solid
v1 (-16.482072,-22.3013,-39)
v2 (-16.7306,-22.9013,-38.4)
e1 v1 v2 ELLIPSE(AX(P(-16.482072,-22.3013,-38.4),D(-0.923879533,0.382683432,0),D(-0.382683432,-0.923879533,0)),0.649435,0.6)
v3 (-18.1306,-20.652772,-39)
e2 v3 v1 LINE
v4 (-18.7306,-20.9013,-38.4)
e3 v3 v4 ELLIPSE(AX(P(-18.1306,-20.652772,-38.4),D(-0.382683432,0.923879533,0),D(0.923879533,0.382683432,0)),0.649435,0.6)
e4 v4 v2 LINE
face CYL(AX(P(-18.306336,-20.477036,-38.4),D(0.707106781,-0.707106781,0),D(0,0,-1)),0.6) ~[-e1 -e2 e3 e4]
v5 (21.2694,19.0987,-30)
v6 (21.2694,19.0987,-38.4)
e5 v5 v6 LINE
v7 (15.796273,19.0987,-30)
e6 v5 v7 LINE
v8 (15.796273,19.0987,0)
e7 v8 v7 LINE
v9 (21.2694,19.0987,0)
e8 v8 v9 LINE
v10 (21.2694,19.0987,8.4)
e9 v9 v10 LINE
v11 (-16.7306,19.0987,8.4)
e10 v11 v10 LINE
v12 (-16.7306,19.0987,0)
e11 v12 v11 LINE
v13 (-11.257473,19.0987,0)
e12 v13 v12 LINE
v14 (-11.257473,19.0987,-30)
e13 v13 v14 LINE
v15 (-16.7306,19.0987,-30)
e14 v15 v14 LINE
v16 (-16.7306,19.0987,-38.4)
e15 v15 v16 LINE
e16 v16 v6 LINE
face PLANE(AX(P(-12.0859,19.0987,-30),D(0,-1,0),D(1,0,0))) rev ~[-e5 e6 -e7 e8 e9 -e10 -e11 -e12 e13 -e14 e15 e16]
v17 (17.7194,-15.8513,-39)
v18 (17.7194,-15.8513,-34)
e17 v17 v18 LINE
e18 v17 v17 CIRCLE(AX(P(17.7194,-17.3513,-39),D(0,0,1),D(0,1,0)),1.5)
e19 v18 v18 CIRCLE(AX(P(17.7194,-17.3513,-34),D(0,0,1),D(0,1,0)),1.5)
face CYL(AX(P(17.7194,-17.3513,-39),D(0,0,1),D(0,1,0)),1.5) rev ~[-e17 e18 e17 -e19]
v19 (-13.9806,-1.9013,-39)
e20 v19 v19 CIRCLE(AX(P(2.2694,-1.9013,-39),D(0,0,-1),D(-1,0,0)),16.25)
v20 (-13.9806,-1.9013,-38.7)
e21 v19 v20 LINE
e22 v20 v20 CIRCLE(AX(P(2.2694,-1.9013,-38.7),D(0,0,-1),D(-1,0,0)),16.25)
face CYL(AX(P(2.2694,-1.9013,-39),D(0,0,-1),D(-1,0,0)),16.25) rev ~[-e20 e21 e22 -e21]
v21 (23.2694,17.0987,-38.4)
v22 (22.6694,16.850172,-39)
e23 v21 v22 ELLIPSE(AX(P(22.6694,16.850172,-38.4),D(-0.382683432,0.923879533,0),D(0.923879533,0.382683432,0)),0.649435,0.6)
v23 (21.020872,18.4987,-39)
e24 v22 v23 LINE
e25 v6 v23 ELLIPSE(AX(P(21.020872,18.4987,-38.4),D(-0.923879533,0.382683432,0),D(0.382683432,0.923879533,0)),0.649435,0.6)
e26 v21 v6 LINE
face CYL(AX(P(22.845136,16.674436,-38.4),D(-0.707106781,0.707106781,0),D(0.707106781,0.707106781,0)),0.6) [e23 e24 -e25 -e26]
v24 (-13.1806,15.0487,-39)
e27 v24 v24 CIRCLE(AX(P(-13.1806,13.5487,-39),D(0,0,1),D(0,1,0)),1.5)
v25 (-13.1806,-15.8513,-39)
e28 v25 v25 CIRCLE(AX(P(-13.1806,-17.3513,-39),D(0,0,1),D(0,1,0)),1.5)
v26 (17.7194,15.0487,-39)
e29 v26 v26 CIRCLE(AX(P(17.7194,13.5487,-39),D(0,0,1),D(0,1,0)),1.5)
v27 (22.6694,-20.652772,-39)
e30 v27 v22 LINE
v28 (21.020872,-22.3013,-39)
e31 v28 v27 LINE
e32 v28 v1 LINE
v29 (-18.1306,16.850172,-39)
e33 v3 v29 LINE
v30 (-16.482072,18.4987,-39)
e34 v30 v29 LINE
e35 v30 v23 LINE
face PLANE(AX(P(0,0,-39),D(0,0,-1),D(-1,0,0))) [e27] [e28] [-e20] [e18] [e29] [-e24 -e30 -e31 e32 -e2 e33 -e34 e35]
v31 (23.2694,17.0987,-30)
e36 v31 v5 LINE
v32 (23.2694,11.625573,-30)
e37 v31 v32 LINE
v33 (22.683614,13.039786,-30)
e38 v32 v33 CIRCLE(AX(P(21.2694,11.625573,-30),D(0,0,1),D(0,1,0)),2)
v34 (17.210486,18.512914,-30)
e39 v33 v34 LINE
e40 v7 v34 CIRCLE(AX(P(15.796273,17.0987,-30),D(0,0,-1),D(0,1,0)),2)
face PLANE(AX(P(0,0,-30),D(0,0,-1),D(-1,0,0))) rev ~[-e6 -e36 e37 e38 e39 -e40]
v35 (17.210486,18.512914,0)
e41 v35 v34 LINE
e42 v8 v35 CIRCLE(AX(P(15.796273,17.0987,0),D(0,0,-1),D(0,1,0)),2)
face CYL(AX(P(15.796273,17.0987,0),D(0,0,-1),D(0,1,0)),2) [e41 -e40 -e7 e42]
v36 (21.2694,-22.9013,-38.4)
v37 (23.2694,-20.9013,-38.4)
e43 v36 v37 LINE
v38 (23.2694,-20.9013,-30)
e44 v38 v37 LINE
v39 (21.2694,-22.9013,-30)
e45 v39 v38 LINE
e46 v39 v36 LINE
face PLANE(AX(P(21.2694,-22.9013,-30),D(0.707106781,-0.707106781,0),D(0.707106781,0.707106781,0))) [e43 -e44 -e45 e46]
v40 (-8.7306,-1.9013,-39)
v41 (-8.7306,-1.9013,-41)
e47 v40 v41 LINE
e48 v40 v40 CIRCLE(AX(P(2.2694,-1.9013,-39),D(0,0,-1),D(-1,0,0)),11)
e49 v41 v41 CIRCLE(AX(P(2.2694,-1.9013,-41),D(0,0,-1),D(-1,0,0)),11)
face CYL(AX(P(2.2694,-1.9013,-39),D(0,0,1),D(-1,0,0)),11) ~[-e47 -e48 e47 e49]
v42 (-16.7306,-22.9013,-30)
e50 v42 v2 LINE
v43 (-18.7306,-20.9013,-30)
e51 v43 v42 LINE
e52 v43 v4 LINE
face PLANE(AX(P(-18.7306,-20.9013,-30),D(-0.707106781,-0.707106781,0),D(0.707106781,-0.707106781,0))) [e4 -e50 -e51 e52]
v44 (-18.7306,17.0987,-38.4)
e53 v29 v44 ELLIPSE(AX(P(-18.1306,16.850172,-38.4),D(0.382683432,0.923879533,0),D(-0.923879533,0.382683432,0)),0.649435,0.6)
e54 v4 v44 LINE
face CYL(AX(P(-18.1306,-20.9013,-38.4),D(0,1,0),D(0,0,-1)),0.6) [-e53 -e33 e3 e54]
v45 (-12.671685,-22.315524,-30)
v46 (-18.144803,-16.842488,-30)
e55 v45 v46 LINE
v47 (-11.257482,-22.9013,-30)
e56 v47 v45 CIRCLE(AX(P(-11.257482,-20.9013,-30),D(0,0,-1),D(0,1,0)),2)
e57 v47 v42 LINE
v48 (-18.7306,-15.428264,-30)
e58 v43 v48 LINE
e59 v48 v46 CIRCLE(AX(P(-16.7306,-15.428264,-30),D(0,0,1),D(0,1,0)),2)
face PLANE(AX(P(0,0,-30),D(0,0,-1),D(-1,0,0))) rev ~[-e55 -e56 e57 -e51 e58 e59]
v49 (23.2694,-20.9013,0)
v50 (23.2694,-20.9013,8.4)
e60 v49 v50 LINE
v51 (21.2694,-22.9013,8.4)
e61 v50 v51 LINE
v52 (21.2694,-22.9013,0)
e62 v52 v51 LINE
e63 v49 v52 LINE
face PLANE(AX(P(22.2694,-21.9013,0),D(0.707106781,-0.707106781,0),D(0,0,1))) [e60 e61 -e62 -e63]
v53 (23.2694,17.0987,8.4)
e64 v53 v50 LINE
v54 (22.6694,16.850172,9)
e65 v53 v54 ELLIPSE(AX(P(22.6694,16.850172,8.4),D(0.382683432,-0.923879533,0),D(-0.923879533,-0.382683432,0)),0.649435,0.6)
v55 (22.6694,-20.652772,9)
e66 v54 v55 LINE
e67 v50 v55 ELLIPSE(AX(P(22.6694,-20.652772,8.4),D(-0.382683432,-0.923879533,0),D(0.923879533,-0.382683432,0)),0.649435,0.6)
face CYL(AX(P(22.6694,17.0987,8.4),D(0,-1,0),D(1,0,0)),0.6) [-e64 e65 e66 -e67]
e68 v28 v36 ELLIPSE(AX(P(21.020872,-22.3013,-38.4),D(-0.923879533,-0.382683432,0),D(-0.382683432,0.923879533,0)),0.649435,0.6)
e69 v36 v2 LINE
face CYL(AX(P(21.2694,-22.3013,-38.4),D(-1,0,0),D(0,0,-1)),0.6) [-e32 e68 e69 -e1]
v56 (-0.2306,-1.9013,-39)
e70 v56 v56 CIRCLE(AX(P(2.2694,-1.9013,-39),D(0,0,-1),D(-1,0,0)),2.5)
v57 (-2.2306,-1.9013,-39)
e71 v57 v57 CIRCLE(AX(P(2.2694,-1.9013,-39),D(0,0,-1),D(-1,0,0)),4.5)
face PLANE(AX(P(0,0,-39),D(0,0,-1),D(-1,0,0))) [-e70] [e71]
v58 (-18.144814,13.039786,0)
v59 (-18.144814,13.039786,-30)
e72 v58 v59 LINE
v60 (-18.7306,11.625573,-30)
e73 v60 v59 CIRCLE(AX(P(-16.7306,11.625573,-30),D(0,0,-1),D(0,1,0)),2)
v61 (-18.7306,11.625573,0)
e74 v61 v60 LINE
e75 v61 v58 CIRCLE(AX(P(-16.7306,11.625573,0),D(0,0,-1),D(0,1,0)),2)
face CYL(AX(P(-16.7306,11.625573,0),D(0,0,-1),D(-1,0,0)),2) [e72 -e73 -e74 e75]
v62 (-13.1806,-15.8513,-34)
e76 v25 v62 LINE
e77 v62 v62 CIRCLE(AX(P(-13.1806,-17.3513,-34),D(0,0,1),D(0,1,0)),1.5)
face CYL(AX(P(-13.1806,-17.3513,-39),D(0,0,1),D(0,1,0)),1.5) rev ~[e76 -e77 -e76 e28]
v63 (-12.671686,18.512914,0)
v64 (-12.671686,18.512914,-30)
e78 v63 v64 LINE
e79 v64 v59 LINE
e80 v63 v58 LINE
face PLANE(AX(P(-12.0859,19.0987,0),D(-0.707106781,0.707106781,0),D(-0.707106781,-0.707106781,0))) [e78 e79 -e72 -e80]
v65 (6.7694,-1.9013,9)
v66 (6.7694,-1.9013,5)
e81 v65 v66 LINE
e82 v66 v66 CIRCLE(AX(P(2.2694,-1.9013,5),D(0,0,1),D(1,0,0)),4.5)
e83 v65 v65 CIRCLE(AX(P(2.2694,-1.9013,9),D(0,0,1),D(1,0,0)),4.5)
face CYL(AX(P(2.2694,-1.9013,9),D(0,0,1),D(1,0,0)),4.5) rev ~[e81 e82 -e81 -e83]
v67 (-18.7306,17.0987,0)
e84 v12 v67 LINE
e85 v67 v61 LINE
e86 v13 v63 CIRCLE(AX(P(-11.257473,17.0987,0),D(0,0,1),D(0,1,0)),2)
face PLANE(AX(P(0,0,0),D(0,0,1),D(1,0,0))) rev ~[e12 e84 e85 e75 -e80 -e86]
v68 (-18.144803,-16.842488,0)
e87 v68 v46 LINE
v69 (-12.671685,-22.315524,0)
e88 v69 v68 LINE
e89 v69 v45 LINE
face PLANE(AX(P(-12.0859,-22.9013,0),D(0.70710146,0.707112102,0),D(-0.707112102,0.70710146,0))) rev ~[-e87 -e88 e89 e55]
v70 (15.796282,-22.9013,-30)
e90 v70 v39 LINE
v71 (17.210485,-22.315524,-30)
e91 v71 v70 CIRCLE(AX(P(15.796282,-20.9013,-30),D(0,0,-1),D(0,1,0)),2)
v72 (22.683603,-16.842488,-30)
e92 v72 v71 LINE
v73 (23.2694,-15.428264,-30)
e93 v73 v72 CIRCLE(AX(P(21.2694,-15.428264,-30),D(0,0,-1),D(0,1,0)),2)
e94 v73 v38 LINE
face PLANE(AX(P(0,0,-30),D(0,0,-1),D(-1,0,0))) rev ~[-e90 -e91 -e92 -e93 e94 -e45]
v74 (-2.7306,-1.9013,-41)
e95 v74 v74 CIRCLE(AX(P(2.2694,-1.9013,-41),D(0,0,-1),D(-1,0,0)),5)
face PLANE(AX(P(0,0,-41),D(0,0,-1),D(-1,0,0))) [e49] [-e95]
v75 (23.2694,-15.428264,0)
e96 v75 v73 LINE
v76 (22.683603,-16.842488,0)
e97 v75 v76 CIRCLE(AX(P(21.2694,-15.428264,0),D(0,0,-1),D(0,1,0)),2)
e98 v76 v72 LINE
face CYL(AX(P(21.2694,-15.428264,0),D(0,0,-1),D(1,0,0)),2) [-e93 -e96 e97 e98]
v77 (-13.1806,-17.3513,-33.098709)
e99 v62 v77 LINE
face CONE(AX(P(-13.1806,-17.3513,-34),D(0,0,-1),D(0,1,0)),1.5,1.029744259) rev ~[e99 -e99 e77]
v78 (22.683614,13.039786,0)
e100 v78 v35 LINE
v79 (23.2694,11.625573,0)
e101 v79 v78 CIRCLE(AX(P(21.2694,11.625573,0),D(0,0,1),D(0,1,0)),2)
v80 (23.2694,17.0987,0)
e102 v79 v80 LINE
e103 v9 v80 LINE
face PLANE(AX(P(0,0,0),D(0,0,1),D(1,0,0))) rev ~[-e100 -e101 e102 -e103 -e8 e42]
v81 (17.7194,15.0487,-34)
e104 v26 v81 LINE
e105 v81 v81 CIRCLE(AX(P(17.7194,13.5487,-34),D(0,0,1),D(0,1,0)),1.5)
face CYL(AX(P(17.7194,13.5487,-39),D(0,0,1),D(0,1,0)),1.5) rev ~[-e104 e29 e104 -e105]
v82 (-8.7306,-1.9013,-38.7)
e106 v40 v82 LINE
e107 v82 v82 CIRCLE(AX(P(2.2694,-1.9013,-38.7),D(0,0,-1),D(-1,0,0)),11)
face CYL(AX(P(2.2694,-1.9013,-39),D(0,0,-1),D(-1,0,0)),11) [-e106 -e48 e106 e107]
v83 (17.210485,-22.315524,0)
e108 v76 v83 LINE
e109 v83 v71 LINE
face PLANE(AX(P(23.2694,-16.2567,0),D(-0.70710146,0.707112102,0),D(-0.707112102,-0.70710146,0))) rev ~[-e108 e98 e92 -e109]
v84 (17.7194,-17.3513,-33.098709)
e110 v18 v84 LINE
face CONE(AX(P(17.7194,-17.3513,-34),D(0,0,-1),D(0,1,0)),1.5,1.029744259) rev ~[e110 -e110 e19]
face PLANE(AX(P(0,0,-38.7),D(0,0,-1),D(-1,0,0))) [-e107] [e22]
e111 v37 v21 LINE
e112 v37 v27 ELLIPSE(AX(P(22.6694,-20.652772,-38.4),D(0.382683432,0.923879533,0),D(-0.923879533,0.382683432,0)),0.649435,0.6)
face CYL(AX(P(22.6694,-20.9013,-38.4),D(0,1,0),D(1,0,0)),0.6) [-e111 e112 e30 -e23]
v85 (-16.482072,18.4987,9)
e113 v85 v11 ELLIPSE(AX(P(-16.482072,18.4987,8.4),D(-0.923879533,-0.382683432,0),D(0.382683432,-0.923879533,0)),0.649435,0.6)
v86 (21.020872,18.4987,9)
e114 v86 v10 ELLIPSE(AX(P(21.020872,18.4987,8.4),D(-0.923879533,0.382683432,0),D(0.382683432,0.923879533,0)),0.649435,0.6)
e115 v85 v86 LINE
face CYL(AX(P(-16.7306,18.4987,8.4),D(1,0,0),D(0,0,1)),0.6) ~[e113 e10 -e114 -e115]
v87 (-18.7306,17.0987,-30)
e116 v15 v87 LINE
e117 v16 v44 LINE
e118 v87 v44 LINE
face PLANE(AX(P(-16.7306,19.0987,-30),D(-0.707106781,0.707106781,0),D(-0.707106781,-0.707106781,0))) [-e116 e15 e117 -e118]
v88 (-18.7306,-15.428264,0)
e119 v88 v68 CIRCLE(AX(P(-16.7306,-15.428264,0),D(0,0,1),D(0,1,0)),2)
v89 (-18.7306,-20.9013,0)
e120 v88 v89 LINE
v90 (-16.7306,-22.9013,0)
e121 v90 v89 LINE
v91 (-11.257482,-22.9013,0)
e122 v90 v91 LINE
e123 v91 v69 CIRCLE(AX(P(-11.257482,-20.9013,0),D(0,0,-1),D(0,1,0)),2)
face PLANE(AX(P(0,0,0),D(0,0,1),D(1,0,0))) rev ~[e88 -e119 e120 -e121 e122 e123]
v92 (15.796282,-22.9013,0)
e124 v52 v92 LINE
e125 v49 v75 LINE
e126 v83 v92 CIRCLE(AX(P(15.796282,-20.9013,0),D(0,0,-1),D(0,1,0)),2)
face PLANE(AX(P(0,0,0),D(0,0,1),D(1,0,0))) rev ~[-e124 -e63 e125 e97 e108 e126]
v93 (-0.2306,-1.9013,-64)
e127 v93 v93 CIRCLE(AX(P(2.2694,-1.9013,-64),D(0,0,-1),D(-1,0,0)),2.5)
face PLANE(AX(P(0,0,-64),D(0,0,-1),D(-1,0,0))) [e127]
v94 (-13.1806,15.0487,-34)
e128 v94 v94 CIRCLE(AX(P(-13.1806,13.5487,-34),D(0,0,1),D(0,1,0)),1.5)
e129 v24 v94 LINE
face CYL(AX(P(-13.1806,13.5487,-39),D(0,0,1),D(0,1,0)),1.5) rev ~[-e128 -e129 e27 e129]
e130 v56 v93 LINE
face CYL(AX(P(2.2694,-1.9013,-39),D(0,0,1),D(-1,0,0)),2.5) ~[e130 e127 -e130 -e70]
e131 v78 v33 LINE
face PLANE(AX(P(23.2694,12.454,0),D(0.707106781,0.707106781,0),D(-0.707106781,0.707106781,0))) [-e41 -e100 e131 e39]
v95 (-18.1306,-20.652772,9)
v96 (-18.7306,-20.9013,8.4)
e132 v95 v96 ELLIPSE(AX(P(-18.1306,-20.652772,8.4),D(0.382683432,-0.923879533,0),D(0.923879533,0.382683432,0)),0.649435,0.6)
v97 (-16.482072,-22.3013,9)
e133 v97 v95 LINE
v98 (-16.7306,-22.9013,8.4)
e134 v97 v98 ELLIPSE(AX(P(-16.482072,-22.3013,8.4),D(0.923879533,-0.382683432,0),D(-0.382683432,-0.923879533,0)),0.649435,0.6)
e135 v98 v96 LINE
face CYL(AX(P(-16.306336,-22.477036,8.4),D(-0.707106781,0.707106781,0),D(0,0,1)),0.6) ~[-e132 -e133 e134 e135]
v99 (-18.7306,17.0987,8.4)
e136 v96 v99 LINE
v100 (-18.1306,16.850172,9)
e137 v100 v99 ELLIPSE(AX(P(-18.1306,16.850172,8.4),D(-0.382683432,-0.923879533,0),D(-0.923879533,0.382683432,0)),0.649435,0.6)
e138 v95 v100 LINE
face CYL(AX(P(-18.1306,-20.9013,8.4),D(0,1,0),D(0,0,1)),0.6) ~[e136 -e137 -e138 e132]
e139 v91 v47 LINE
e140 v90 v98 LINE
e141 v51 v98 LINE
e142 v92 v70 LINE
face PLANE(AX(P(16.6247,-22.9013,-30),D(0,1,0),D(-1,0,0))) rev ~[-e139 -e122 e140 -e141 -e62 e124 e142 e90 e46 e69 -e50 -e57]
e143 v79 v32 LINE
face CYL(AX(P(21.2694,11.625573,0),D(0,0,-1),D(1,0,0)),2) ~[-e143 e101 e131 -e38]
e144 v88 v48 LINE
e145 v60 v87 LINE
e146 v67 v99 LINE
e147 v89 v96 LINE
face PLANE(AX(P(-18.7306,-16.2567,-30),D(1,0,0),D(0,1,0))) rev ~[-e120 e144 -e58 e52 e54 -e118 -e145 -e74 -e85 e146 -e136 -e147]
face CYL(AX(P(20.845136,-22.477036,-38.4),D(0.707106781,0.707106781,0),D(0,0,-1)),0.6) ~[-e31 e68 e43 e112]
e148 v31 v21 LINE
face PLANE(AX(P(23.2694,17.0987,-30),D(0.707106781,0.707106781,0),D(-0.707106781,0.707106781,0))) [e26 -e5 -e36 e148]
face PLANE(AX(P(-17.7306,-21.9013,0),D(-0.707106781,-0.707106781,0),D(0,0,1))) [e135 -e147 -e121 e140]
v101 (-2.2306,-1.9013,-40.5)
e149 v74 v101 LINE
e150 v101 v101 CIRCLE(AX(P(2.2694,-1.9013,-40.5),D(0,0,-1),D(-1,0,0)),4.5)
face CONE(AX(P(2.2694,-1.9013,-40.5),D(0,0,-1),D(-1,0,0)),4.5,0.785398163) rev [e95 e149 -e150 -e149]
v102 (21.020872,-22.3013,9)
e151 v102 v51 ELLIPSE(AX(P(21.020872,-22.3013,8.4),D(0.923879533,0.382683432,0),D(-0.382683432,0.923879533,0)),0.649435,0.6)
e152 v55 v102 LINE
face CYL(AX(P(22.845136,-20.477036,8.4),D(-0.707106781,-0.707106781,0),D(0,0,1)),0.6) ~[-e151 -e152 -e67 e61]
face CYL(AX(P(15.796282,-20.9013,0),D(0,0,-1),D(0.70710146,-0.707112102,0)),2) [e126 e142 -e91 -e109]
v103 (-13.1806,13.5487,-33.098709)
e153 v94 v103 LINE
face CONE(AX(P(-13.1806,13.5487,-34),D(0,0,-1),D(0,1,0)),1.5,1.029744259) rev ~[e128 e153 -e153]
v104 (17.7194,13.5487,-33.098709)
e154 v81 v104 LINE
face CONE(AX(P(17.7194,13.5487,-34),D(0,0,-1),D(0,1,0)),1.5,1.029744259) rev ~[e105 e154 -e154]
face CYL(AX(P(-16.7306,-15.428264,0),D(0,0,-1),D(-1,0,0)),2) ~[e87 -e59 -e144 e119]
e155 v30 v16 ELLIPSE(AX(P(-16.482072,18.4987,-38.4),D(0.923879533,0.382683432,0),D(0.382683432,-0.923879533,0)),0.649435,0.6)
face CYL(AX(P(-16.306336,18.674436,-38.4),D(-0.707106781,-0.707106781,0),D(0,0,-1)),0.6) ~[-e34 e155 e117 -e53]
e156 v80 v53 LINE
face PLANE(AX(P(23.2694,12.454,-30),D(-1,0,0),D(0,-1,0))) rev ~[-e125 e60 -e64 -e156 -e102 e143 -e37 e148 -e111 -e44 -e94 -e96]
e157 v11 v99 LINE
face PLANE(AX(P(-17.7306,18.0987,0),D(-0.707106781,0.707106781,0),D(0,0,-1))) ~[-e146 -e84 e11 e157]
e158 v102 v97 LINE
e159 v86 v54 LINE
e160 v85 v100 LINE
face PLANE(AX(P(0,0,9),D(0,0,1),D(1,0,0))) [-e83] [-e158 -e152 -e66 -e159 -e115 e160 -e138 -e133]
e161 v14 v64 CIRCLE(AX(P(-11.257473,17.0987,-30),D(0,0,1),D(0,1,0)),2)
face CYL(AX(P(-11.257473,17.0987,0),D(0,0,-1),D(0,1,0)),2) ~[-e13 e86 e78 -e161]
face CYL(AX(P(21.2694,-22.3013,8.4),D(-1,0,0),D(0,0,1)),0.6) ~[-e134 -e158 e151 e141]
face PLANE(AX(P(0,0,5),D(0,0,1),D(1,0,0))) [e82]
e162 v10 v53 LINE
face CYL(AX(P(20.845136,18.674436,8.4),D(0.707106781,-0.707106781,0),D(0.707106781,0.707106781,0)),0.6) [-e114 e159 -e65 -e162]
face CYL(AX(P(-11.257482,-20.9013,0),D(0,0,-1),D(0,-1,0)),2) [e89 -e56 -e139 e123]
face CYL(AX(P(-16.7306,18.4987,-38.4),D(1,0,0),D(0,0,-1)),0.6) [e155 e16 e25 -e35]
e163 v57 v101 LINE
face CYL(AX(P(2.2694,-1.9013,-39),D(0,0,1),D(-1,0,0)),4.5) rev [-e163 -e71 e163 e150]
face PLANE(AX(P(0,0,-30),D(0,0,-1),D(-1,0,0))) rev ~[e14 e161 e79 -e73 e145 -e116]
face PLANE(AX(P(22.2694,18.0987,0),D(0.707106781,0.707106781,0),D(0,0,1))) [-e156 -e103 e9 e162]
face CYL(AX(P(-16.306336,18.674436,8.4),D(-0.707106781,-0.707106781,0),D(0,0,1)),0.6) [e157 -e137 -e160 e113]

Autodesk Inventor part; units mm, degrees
ref_plane "YZ Plane" through (0, 0, 0) normal (1, 0, 0) x (0, 1, 0)
ref_plane "XZ Plane" through (0, 0, 0) normal (0, 1, 0) x (-1, 0, 0)
ref_plane "XY Plane" through (0, 0, 0) normal (0, 0, 1) x (1, 0, 0)
sketch "Szkic1" plane through (0, 0, 0) normal (0, 0, 1) x (1, 0, 0)
  line L0 (-18.7306, 19.0987) -> (23.2694, 19.0987)
  line L1 (23.2694, 19.0987) -> (23.2694, -22.9013)
  line L2 (23.2694, -22.9013) -> (-18.7306, -22.9013)
  line L3 (-18.7306, -22.9013) -> (-18.7306, 19.0987)
  point P0 (0, 0)
  dimension "d0" = 42
  dimension "d1" = 42
extrude "Wyciągnięcie proste1" add sketch "Szkic1" along normal blind 9
chamfer "Faza1" distance 2 angle 45 4 edges at (23.2694, 19.0987, 4.5) (-18.7306, 19.0987, 4.5) (-18.7306, -22.9013, 4.5) (23.2694, -22.9013, 4.5)
sketch "Szkic2" plane through (0, 0, 0) normal (0, 0, -1) x (-1, 0, 0)
  line L0 (-21.2694, -22.9013) -> (-23.2694, -20.9013) projected
  line L1 (-21.2694, -22.9013) -> (16.7306, -22.9013) projected
  line L2 (18.7306, -20.9013) -> (16.7306, -22.9013) projected
  line L3 (18.7306, -20.9013) -> (18.7306, 17.0987) projected
  line L4 (16.7306, 19.0987) -> (18.7306, 17.0987) projected
  line L5 (16.7306, 19.0987) -> (-21.2694, 19.0987) projected
  line L6 (-23.2694, 17.0987) -> (-21.2694, 19.0987) projected
  line L7 (-23.2694, 17.0987) -> (-23.2694, -20.9013) projected
  line L8 (12.0859, 19.0987) -> (-16.6247, 19.0987)
  line L9 (-23.2694, -16.2567) -> (-16.6247, -22.9013)
  line L10 (12.0859, -22.9013) -> (18.7306, -16.2567)
  line L11 (-23.2694, 12.454) -> (-16.6247, 19.0987)
  line L12 (12.0859, 19.0987) -> (18.7306, 12.454)
  line L13 (-16.6247, 19.0987) -> (12.0859, 19.0987)
  line L14 (-23.2694, 17.0987) -> (-23.2694, -20.9013) projected
  line L15 (-23.2694, 12.454) -> (-23.2694, -16.2567)
  line L16 (-23.2694, -16.2567) -> (-23.2694, 12.454)
  line L17 (-16.6247, -22.9013) -> (12.0859, -22.9013)
  line L18 (-16.6247, -22.9013) -> (12.0859, -22.9013)
  line L19 (18.7306, -16.2567) -> (18.7306, 12.454)
  point P0 (0, 0)
  point P1 (-2.2694, -1.9013)
  dimension "d9" = 21
  dimension "d10" = 42
  dimension "d11" = 21
  dimension "d12" = 25
  dimension "d13" = 25
  dimension "d14" = 25
  dimension "d15" = 25
extrude "Wyciągnięcie proste3" add sketch "Szkic2" along normal blind 30 contours L9 L7 L11 L5 L12 L3 L10 L1
sketch "Szkic3" plane through (0, 0, -30) normal (0, 0, -1) x (-1, 0, 0)
  line L0 (-23.2694, -16.2567) -> (-16.6247, -22.9013) projected
  line L1 (-16.6247, -22.9013) -> (12.0859, -22.9013) projected
  line L2 (12.0859, -22.9013) -> (18.7306, -16.2567) projected
  line L3 (18.7306, -16.2567) -> (18.7306, 12.454) projected
  line L4 (18.7306, 12.454) -> (12.0859, 19.0987) projected
  line L5 (12.0859, 19.0987) -> (-16.6247, 19.0987) projected
  line L6 (-16.6247, 19.0987) -> (-23.2694, 12.454) projected
  line L7 (-23.2694, 12.454) -> (-23.2694, -16.2567) projected
  line L8 (-23.2694, 12.454) -> (-16.6247, 19.0987) projected
  line L9 (-16.6247, 19.0987) -> (-21.2694, 19.0987) projected
  line L10 (-23.2694, 17.0987) -> (-21.2694, 19.0987) projected
  line L11 (-23.2694, 17.0987) -> (-23.2694, 12.454) projected
  line L12 (-16.6247, -22.9013) -> (-23.2694, -16.2567) projected
  line L13 (-23.2694, -16.2567) -> (-23.2694, -20.9013) projected
  line L14 (-21.2694, -22.9013) -> (-23.2694, -20.9013) projected
  line L15 (-21.2694, -22.9013) -> (-16.6247, -22.9013) projected
  line L16 (18.7306, -16.2567) -> (12.0859, -22.9013) projected
  line L17 (12.0859, -22.9013) -> (16.7306, -22.9013) projected
  line L18 (18.7306, -20.9013) -> (16.7306, -22.9013) projected
  line L19 (18.7306, -20.9013) -> (18.7306, -16.2567) projected
  line L20 (12.0859, 19.0987) -> (18.7306, 12.454) projected
  line L21 (18.7306, 12.454) -> (18.7306, 17.0987) projected
  line L22 (16.7306, 19.0987) -> (18.7306, 17.0987) projected
  line L23 (16.7306, 19.0987) -> (12.0859, 19.0987) projected
  line L24 (-23.2694, 19.0987) -> (-23.2694, -22.9013)
  line L25 (-23.2694, -22.9013) -> (18.7306, -22.9013)
  line L26 (18.7306, -22.9013) -> (18.7306, 19.0987)
  line L27 (18.7306, 19.0987) -> (-23.2694, 19.0987)
  point P0 (0, 0)
extrude "Wyciągnięcie proste4" add sketch "Szkic3" along normal blind 9 contours L7 L6 L5 L4 L3 L2 L1 L0 | L0 L15 L14 L13 | L11 L10 L9 L6 | L2 L19 L18 L17 | L23 L22 L21 L4
fillet "Zaokrąglenie1" radius 2 8 edges at (-18.7306, 12.454, -15) (-12.0859, 19.0987, -15) (16.6247, 19.0987, -15) (23.2694, 12.454, -15) (-18.7306, -16.2567, -15) (-12.0859, -22.9013, -15) (16.6247, -22.9013, -15) (23.2694, -16.2567, -15)
sketch "Szkic4" plane through (0, 0, 9) normal (0, 0, 1) x (1, 0, 0)
  line L0 (-18.7306, 17.0987) -> (-18.7306, -20.9013) projected
  line L1 (23.2694, -20.9013) -> (23.2694, 17.0987) projected
  line L2 (21.2694, 19.0987) -> (-16.7306, 19.0987) projected
  circle A0 centre (2.2694, -1.9013) radius 4.5
  line L3 (23.2694, 19.0987) -> (-18.7306, 19.0987)
  line L4 (23.2694, -22.9013) -> (-18.7306, -22.9013)
  line L5 (21.2694, -22.9013) -> (-16.7306, -22.9013) projected
  line L6 (-18.7306, -22.9013) -> (-18.7306, 19.0987)
  line L7 (23.2694, 19.0987) -> (23.2694, -22.9013)
  point P0 (0, 0)
  dimension "d21" = 42
  dimension "d22" = 21
  dimension "d23" = 21
  dimension "d24" = 9
extrude "Wyciągnięcie proste5" cut sketch "Szkic4" against normal blind 4 contours A0
fillet "Zaokrąglenie2" radius 0.6 16 edges at (23.2694, -1.9013, 9) (2.2694, -22.9013, 9) (-18.7306, -1.9013, 9) (2.2694, 19.0987, 9) (22.2694, -21.9013, 9) (-17.7306, -21.9013, 9) (-17.7306, 18.0987, 9) (22.2694, 18.0987, 9) (23.2694, -1.9013, -39) (22.2694, 18.0987, -39) (2.2694, 19.0987, -39) (-17.7306, 18.0987, -39) (-18.7306, -1.9013, -39) (-17.7306, -21.9013, -39) (2.2694, -22.9013, -39) (22.2694, -21.9013, -39)
sketch "Szkic5" plane through (0, 0, -39) normal (0, 0, -1) x (-1, 0, 0)
  circle A0 centre (-2.2694, -1.9013) radius 4.5 projected
  line L0 (-21.2694, -22.9013) -> (16.7306, -22.9013) projected
  line L1 (16.7306, -22.9013) -> (18.7306, -20.9013) projected
  line L2 (18.7306, -20.9013) -> (18.7306, 17.0987) projected
  line L3 (18.7306, 17.0987) -> (16.7306, 19.0987) projected
  line L4 (16.7306, 19.0987) -> (-21.2694, 19.0987) projected
  line L5 (-21.2694, 19.0987) -> (-23.2694, 17.0987) projected
  line L6 (-23.2694, 17.0987) -> (-23.2694, -20.9013) projected
  line L7 (-23.2694, -20.9013) -> (-21.2694, -22.9013) projected
  line L8 (18.7306, -22.9013) -> (18.7306, 19.0987)
  line L9 (18.7306, 19.0987) -> (-23.2694, 19.0987)
  line L10 (-23.2694, 19.0987) -> (-23.2694, -22.9013)
  line L11 (-23.2694, -22.9013) -> (18.7306, -22.9013)
  circle A1 centre (-2.2694, -1.9013) radius 11
  circle A2 centre (-2.2694, -1.9013) radius 16.25
  circle A3 centre (-2.2694, -1.9013) radius 2.5
  point P0 (0, 0)
  point P1 (13.1806, -17.3513)
  point P2 (13.1806, 13.5487)
  point P3 (-17.7194, 13.5487)
  point P4 (-17.7194, -17.3513)
  dimension "d28" = 42
  dimension "d29" = 5.55
  dimension "d30" = 5.55
  dimension "d31" = 5.55
  dimension "d32" = 5.55
  dimension "d33" = 5.55
  dimension "d34" = 5.55
  dimension "d35" = 5.55
  dimension "d36" = 5.55
  dimension "d37" = 22
  dimension "d38" = 32.5
  dimension "d53" = 5
extrude "Wyciągnięcie proste6" cut sketch "Szkic5" against normal blind 0.3 contours A2
extrude "Wyciągnięcie proste7" add sketch "Szkic5" along normal blind 2 contours A1
chamfer "Faza2" distance 0.5 angle 45 1 edges at (6.7694, -1.9013, -41)
hole "Otwór1" at (-13.1806, -17.3513, -39) at (-13.1806, 13.5487, -39) at (17.7194, 13.5487, -39) at (17.7194, -17.3513, -39) direction (0, 0, 1) diameter 3 depth 5 tip angle 118
extrude "Wyciągnięcie proste8" add sketch "Szkic5" along normal blind 25 contours A3
equation "\"d13\" = d12"
equation "\"d14\" = d12"
equation "\"d15\" = d12"
equation "\"d22\" = 0.5 * d21"
equation "\"d23\" = 0.5 * d21"
equation "\"d30\" = d29"
equation "\"d31\" = d29"
equation "\"d32\" = d29"
equation "\"d33\" = d31"
equation "\"d34\" = d29"
equation "\"d35\" = d29"
equation "\"d36\" = d29"
properties part number "COTS_GENERIC_NEMA17_25mm_shaft"
